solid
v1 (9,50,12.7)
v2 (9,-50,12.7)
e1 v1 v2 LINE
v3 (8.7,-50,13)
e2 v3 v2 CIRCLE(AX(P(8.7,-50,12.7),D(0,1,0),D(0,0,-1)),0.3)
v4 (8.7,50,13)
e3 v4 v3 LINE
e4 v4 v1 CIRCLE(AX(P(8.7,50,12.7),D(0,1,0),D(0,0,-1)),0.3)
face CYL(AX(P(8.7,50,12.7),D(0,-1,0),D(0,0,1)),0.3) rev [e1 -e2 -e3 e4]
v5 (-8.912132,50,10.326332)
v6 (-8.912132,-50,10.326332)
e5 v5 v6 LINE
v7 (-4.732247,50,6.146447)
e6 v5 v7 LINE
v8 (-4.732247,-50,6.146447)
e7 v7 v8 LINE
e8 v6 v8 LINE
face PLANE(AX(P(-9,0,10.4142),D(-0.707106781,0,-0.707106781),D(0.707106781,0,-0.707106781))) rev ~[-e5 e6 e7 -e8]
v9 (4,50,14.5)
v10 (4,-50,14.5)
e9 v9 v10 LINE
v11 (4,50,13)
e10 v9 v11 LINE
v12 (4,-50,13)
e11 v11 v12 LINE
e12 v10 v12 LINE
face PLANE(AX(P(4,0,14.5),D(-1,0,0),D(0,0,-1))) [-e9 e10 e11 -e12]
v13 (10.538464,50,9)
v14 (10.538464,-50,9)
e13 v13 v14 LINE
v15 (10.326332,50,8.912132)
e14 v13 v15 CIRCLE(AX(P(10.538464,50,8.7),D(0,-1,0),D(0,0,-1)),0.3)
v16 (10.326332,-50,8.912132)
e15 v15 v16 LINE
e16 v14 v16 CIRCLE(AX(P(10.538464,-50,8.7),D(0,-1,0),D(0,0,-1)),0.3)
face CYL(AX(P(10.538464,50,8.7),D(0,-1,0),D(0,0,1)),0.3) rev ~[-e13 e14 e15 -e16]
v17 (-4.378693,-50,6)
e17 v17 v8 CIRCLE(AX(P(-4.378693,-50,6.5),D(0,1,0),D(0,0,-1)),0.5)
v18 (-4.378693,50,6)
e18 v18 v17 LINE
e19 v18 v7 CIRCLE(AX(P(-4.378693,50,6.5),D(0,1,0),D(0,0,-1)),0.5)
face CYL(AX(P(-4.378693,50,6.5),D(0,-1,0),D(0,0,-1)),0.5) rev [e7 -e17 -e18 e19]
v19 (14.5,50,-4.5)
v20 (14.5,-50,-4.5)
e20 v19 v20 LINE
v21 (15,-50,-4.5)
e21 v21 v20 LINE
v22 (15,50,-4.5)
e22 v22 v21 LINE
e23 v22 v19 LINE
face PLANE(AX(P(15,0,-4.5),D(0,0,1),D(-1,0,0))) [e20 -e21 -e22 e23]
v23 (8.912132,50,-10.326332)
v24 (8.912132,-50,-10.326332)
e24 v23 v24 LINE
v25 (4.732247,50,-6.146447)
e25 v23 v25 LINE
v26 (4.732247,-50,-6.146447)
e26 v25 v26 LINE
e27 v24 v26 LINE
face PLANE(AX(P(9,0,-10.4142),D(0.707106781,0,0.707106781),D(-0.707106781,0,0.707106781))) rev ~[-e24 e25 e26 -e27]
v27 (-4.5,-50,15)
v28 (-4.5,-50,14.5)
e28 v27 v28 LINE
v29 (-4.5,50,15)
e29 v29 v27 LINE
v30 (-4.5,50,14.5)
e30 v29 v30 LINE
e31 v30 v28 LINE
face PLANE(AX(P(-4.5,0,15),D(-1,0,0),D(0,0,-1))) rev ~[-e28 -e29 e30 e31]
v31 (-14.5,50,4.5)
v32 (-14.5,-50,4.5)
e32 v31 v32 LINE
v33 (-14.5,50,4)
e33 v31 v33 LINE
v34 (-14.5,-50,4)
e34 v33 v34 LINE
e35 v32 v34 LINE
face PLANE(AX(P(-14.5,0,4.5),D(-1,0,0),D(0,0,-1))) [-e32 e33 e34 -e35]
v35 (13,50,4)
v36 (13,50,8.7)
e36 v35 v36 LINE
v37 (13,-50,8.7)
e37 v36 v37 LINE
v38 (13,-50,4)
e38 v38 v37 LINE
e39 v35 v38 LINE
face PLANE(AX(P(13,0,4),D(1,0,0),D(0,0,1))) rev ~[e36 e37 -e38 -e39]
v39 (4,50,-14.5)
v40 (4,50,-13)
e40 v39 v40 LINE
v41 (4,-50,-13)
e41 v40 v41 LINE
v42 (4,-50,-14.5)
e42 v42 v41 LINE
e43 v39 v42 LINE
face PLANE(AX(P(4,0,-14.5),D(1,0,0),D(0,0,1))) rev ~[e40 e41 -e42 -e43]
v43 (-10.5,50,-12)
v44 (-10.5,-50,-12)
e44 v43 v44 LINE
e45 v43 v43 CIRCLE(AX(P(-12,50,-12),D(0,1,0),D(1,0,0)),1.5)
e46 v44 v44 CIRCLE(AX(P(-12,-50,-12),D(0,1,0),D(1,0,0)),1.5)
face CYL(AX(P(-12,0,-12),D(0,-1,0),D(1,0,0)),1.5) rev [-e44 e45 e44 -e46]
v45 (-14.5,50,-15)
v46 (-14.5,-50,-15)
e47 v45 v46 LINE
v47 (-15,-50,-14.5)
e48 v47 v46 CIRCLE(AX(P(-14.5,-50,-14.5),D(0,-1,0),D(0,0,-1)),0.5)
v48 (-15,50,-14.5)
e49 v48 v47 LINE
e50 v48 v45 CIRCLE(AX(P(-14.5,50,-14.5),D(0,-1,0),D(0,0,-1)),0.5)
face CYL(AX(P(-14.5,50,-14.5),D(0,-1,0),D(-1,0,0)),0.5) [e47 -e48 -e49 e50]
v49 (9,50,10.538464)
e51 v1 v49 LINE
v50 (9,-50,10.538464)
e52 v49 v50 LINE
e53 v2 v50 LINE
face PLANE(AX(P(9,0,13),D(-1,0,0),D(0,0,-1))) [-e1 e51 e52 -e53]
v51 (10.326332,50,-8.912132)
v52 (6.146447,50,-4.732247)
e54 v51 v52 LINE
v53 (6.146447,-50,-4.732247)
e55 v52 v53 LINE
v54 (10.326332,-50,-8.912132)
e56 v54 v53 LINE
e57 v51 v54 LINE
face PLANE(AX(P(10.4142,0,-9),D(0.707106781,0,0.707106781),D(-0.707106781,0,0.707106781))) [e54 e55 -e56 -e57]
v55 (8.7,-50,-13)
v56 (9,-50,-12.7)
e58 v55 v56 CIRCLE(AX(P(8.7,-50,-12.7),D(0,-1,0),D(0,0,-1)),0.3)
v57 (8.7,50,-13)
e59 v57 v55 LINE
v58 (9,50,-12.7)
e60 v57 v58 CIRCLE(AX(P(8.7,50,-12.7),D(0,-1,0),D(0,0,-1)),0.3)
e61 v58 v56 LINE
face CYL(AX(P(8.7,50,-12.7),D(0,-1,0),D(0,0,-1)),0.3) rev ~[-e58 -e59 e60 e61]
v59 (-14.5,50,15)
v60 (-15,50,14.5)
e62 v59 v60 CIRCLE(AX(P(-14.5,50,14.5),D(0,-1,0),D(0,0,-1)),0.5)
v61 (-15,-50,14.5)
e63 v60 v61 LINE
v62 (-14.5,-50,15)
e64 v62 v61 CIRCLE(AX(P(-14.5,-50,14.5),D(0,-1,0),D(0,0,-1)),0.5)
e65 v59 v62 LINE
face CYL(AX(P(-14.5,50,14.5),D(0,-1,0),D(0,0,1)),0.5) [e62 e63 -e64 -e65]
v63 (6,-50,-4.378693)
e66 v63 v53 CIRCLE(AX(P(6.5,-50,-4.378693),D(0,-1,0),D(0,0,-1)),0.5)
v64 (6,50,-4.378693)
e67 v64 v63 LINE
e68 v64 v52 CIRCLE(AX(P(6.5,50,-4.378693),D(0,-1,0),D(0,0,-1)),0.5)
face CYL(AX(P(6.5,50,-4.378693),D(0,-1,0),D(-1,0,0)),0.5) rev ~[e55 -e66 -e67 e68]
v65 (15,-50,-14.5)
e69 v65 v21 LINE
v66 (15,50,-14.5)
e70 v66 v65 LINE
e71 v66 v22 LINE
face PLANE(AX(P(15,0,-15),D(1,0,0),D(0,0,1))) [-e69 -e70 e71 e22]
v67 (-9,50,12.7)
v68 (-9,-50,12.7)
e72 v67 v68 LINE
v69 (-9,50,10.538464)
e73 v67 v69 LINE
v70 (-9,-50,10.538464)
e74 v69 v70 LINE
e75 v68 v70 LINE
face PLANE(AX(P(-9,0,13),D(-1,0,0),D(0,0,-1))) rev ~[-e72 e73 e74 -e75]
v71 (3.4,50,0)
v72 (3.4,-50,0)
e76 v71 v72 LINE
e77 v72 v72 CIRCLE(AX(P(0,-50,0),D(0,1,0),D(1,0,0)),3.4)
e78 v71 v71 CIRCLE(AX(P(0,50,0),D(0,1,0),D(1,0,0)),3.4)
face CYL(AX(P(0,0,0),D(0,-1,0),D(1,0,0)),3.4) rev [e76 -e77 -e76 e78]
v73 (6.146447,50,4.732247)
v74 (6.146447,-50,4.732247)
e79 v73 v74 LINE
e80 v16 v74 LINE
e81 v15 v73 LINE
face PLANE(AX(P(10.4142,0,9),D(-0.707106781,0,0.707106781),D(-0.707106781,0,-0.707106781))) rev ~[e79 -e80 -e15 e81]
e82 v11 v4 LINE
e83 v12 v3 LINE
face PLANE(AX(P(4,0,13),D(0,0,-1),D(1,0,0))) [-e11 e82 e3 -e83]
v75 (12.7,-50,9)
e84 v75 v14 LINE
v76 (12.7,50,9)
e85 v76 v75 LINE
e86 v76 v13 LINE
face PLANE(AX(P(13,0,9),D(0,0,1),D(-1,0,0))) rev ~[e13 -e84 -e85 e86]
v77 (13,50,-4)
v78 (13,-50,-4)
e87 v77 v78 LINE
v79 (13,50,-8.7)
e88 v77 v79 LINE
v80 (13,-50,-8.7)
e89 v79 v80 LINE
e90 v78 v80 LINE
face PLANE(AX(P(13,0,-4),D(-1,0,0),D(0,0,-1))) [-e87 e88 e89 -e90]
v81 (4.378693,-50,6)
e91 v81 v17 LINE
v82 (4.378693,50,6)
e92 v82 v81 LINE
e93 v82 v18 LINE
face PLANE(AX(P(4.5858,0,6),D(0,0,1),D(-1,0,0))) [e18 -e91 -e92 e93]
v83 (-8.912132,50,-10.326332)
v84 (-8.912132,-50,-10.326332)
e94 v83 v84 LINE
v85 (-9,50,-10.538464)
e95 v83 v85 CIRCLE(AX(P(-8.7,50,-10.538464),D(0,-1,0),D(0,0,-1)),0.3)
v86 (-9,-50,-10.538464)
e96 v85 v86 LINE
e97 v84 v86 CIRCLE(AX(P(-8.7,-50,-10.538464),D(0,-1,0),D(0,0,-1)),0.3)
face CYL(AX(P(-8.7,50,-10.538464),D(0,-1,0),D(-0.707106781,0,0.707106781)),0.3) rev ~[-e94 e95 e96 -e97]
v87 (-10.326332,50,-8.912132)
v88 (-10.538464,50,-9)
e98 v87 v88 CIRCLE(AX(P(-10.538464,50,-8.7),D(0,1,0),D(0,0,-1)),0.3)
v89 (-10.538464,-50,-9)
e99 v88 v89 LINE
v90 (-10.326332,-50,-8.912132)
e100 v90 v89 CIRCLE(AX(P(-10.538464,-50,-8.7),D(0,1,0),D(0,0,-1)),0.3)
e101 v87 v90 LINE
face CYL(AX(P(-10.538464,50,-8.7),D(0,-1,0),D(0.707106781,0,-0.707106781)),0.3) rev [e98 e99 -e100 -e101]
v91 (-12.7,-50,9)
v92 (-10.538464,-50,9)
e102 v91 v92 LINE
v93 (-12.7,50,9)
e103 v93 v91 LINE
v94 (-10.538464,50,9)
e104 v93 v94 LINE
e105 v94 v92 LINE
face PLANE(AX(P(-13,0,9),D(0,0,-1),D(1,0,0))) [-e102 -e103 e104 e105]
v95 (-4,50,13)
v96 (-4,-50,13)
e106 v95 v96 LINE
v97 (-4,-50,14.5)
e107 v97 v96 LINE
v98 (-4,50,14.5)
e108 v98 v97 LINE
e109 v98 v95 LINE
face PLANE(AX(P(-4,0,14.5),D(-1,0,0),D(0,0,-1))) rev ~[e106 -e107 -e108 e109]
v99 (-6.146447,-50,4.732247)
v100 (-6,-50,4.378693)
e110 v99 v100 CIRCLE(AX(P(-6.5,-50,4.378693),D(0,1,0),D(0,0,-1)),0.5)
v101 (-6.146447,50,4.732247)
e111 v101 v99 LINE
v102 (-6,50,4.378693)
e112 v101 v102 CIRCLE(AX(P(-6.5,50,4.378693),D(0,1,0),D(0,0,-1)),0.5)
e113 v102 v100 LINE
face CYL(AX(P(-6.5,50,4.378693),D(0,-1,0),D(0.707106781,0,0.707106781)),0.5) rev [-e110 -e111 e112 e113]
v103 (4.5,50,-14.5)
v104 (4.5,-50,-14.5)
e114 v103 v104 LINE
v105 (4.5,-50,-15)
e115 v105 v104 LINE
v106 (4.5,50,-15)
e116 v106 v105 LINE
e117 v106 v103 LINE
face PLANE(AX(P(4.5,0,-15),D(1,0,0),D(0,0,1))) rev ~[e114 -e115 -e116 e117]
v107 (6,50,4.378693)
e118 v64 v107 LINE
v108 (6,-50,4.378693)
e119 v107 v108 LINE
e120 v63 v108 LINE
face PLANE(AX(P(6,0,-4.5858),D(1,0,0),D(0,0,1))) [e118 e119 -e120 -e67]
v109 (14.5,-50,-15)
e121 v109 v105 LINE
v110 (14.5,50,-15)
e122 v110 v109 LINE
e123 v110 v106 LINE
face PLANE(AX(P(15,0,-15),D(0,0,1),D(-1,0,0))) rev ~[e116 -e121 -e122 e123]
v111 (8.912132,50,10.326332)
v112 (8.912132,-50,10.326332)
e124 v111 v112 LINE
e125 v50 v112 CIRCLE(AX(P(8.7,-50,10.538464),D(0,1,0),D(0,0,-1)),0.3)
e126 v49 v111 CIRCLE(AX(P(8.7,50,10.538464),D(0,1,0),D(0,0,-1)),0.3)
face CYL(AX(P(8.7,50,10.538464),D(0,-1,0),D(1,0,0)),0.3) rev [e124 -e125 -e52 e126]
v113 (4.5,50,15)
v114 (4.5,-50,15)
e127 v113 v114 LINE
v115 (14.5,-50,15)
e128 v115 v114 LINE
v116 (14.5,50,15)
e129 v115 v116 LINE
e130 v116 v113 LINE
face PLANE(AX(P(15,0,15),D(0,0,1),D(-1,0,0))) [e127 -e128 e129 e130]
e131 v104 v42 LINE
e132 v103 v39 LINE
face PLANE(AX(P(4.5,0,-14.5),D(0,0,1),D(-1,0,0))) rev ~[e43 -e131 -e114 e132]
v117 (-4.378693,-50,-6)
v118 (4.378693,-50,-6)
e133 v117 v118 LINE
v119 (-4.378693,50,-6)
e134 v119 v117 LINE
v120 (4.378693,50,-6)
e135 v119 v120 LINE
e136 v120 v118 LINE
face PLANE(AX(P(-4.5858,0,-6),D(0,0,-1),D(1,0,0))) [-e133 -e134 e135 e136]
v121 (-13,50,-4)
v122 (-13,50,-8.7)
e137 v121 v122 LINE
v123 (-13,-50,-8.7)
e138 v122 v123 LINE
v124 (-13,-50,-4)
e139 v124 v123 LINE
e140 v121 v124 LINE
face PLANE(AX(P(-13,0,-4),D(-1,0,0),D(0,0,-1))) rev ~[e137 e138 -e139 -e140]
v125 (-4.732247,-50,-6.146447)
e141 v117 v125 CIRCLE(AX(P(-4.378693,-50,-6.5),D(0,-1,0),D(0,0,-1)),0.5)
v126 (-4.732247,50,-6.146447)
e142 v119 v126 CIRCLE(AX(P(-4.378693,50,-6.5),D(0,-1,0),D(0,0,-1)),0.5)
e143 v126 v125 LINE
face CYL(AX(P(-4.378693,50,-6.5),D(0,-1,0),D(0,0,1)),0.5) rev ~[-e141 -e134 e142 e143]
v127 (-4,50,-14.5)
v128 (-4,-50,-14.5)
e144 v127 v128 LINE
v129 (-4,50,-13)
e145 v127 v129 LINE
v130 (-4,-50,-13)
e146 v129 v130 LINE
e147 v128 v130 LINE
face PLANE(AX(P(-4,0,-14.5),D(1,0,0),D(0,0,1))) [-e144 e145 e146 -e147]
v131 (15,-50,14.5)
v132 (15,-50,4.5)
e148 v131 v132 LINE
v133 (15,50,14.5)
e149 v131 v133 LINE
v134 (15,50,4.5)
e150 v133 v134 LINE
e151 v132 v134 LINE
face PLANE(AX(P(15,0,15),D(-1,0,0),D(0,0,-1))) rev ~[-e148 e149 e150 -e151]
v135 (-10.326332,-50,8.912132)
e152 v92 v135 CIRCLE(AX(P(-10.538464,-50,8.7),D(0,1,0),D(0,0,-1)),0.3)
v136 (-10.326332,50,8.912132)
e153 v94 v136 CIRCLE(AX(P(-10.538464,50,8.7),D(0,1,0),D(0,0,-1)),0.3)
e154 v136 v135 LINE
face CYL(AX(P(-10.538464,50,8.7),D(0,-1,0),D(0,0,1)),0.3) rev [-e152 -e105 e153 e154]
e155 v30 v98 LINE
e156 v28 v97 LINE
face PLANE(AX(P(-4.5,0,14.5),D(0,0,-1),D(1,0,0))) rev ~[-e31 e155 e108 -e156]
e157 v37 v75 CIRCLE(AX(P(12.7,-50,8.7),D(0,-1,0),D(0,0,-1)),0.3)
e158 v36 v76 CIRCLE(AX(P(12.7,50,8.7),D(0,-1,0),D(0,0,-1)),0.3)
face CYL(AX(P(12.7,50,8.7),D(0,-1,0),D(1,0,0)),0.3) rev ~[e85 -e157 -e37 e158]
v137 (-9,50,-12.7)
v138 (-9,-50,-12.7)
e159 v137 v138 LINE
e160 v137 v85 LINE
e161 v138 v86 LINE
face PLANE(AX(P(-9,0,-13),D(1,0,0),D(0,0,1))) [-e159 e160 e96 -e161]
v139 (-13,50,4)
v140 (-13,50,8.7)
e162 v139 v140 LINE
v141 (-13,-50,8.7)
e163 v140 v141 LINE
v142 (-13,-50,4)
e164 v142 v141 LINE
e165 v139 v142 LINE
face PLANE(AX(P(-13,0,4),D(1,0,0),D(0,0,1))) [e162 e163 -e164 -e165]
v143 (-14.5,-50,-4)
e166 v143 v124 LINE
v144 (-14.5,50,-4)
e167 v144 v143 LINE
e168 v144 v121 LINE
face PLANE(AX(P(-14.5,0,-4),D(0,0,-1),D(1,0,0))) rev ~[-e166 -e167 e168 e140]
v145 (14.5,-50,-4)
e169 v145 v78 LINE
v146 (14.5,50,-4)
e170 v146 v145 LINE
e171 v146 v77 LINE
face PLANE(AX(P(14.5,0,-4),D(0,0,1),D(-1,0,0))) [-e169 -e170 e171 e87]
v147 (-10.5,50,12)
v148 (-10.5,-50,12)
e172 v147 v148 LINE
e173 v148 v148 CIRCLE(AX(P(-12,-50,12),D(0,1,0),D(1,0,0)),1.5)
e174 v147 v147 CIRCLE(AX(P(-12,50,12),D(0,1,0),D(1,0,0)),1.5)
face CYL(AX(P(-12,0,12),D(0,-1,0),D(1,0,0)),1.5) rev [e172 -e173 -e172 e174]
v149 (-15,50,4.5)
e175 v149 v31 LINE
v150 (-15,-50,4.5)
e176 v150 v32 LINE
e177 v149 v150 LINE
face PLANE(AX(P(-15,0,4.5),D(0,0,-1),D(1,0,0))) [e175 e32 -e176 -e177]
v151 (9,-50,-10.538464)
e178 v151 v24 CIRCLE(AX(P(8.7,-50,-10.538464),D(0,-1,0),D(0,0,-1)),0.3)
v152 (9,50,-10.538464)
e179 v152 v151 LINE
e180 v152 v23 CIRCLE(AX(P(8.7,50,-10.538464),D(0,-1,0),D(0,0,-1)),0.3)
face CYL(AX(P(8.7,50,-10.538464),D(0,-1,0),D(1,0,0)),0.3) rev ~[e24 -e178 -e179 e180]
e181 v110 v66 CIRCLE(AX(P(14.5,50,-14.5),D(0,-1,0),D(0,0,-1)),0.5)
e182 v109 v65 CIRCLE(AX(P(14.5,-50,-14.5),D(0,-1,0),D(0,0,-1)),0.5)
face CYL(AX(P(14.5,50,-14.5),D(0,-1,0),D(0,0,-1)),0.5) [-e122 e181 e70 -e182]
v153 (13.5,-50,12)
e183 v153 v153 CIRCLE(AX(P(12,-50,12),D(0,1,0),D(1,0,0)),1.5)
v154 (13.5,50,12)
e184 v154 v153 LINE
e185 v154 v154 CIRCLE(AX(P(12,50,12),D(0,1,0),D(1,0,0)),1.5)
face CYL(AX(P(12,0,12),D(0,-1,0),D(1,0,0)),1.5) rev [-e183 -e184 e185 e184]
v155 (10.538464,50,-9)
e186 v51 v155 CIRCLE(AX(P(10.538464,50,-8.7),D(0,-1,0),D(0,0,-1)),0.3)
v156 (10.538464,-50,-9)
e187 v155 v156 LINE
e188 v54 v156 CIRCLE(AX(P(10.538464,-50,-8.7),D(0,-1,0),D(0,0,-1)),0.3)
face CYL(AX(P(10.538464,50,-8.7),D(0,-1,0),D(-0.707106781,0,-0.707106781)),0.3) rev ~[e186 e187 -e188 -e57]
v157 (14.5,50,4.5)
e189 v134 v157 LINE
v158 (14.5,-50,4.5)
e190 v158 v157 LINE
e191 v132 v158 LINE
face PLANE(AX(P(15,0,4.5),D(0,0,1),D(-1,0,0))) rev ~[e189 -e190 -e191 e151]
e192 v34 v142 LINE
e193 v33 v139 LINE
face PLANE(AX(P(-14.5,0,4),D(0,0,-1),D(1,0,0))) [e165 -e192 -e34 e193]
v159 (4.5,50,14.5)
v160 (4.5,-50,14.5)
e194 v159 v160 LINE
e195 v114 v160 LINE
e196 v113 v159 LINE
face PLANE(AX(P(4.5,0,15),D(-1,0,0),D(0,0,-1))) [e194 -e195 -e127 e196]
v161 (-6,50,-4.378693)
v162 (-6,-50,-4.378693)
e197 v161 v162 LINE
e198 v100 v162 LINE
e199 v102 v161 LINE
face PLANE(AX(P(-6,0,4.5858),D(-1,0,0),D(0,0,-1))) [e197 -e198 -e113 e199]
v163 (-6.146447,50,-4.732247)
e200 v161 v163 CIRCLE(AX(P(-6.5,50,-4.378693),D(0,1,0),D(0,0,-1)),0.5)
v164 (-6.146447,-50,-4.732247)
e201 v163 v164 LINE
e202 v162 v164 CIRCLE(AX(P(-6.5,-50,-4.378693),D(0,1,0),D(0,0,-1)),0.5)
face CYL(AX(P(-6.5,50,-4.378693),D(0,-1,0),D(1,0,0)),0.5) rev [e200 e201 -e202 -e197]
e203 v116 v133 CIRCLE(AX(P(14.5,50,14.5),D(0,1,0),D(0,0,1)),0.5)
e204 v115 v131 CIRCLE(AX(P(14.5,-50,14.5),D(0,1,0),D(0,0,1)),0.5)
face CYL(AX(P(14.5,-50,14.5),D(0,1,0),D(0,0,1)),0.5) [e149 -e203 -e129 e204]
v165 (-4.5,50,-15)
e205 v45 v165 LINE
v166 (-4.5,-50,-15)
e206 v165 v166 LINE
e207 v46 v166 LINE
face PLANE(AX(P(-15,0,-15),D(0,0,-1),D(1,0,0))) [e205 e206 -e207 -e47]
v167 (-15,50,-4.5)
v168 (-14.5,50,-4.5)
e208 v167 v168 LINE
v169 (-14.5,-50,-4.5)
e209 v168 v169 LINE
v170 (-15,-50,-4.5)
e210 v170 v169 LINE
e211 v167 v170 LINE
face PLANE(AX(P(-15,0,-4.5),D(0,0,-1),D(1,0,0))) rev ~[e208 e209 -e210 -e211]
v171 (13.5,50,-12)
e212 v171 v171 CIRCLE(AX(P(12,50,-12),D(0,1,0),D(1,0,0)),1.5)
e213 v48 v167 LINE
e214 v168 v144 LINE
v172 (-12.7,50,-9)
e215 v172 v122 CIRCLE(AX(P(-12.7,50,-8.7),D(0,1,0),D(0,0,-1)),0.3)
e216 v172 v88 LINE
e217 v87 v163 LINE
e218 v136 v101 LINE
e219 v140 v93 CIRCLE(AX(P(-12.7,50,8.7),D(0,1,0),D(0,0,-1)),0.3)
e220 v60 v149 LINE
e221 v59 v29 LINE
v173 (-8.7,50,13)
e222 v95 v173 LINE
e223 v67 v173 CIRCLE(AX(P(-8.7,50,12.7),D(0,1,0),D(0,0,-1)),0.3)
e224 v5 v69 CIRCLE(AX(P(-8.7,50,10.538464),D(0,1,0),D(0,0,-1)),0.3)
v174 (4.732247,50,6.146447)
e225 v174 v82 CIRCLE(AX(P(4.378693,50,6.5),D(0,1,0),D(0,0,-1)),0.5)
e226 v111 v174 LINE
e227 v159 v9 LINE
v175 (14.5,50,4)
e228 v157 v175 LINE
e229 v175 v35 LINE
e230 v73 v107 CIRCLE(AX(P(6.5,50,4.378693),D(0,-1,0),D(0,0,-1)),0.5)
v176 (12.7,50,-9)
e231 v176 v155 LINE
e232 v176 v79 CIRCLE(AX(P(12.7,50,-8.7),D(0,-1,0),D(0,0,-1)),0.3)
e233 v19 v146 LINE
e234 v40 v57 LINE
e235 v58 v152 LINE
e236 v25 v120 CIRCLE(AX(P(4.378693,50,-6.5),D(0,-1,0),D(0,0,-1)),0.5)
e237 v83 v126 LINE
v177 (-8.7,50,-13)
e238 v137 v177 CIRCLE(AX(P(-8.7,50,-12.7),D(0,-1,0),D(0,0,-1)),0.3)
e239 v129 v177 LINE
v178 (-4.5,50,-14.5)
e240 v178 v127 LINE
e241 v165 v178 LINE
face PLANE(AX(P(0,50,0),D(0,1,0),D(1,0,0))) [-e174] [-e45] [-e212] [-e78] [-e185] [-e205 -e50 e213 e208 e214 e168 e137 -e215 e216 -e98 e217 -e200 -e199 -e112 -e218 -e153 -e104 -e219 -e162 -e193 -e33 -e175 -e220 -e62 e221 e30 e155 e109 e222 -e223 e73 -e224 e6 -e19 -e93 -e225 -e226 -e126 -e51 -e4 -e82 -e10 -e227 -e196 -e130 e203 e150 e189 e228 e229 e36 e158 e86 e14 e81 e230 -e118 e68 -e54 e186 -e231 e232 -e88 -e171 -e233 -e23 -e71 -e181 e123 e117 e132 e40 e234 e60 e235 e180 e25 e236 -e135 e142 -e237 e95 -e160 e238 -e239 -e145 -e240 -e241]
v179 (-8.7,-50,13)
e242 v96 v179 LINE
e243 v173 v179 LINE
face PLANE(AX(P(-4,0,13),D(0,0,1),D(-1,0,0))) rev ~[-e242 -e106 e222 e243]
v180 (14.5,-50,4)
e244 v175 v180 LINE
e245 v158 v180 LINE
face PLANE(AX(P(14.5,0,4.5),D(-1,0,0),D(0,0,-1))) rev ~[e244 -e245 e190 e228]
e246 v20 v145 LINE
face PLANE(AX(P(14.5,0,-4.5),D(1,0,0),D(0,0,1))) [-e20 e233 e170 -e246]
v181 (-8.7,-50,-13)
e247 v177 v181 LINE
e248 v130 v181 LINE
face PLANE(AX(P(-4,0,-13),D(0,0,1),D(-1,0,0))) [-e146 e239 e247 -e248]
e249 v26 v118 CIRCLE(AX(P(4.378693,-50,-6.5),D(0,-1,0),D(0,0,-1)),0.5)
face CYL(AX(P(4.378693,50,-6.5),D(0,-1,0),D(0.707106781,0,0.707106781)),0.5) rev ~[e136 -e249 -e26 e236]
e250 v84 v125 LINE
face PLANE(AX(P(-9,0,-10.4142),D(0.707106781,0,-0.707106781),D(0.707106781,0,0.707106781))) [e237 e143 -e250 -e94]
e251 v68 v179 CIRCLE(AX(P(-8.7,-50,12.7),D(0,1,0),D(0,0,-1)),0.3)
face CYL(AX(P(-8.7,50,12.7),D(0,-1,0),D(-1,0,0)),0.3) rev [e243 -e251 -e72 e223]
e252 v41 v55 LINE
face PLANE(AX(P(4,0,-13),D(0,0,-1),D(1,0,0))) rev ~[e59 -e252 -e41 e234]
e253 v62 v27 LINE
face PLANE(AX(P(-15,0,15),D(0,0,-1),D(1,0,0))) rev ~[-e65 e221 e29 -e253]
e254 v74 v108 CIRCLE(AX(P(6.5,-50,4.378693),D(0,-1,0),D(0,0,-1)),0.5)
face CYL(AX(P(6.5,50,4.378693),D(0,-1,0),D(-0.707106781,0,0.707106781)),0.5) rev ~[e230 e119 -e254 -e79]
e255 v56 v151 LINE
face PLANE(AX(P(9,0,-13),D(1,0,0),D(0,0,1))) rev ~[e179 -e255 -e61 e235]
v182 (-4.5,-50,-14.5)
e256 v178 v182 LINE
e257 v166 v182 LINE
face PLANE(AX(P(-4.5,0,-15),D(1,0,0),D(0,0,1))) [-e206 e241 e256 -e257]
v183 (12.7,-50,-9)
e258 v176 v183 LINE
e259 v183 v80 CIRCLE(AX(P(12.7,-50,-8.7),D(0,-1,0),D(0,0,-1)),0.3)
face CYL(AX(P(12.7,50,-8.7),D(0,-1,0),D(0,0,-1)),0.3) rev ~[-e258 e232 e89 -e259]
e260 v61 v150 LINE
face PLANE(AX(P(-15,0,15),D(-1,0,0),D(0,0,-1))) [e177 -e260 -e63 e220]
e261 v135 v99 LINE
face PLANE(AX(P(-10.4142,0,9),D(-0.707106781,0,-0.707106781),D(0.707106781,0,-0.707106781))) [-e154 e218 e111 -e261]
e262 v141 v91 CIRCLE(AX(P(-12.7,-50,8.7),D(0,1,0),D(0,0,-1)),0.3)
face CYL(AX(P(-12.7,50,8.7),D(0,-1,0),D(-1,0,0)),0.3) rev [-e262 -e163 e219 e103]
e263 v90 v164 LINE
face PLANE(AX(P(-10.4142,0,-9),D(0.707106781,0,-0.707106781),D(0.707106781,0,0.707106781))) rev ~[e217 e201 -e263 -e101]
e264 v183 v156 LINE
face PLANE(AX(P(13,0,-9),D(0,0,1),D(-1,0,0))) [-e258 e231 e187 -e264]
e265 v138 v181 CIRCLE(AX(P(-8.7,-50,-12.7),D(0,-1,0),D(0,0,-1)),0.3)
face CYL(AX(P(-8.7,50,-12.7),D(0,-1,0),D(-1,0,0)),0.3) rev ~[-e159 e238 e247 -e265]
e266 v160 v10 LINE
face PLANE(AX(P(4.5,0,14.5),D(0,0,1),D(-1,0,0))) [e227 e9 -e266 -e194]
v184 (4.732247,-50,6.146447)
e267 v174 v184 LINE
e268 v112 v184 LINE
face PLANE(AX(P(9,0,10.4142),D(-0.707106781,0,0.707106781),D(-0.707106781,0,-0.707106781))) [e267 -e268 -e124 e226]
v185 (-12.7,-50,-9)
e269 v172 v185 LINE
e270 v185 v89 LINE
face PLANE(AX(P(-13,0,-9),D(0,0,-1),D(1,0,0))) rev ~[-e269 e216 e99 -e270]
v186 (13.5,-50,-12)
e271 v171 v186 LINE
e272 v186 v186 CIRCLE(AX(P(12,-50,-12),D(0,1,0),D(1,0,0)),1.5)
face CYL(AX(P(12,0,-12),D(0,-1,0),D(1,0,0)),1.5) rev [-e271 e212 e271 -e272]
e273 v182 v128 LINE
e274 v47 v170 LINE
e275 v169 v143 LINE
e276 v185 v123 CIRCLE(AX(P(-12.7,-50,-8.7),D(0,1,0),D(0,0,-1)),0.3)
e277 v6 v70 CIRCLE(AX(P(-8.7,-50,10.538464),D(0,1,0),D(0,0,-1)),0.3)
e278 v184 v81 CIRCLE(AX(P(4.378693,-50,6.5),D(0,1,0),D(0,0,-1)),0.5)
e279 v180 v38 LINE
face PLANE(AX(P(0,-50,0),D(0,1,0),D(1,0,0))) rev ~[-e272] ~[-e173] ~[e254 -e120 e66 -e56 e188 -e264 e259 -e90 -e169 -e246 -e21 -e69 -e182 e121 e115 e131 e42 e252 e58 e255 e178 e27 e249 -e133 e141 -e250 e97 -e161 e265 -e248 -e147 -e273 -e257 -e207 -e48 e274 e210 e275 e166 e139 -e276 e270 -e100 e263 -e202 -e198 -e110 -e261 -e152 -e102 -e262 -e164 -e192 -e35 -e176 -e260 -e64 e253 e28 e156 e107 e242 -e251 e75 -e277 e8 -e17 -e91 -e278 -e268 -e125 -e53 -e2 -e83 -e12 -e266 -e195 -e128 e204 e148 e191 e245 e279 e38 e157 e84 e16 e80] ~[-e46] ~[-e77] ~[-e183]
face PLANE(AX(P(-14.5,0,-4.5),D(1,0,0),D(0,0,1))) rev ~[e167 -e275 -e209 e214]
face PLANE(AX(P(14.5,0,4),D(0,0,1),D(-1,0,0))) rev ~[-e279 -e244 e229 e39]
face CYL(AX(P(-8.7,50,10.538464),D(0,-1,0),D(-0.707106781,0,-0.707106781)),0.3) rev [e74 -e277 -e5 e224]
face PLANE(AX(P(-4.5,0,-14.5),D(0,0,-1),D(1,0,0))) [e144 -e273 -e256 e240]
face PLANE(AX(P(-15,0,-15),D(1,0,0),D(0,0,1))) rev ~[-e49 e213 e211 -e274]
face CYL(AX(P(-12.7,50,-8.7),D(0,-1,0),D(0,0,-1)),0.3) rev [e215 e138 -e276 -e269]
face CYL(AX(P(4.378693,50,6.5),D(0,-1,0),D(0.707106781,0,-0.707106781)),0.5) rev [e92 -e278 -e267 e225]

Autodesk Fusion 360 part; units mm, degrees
sketch "Sketch1" plane through (0, 0, 0) normal (0, 1, 0) x (1, 0, 0)
  circle A0 centre (0, 0) radius 3.4
  line L0 (15, -15) -> (4.5, -15)
  line L1 (4.5, -15) -> (4.5, -14.5)
  line L2 (4.5, -14.5) -> (4, -14.5)
  line L3 (4, -14.5) -> (4, -13)
  line L4 (4, -13) -> (9, -13)
  line L5 (15, -15) -> (15, -4.5)
  line L6 (15, -4.5) -> (14.5, -4.5)
  line L7 (14.5, -4.5) -> (14.5, -4)
  line L8 (14.5, -4) -> (13, -4)
  line L9 (13, -4) -> (13, -9)
  line L10 (13, -9) -> (10.4142, -9)
  line L11 (9, -13) -> (9, -10.4142)
  line L12 (9, -10.4142) -> (4.5858, -6)
  line L13 (10.4142, -9) -> (6, -4.5858)
  line L14 (13, 4) -> (13, 9)
  line L15 (14.5, 4) -> (13, 4)
  line L16 (9, 10.4142) -> (4.5858, 6)
  line L17 (15, 4.5) -> (14.5, 4.5)
  line L18 (4.5, 15) -> (4.5, 14.5)
  line L19 (4, 14.5) -> (4, 13)
  line L20 (10.4142, 9) -> (6, 4.5858)
  line L21 (13, 9) -> (10.4142, 9)
  line L22 (15, 15) -> (4.5, 15)
  line L23 (4, 13) -> (9, 13)
  line L24 (4.5, 14.5) -> (4, 14.5)
  line L25 (15, 15) -> (15, 4.5)
  line L26 (14.5, 4.5) -> (14.5, 4)
  line L27 (9, 13) -> (9, 10.4142)
  line L28 (-4, 13) -> (-9, 13)
  line L29 (-4, 14.5) -> (-4, 13)
  line L30 (-10.4142, 9) -> (-6, 4.5858)
  line L31 (-4.5, 15) -> (-4.5, 14.5)
  line L32 (-15, 4.5) -> (-14.5, 4.5)
  line L33 (-14.5, 4) -> (-13, 4)
  line L34 (-9, 10.4142) -> (-4.5858, 6)
  line L35 (-9, 13) -> (-9, 10.4142)
  line L36 (-15, 15) -> (-15, 4.5)
  line L37 (-13, 4) -> (-13, 9)
  line L38 (-14.5, 4.5) -> (-14.5, 4)
  line L39 (-15, 15) -> (-4.5, 15)
  line L40 (-4.5, 14.5) -> (-4, 14.5)
  line L41 (-13, 9) -> (-10.4142, 9)
  line L42 (-13, -4) -> (-13, -9)
  line L43 (-14.5, -4) -> (-13, -4)
  line L44 (-9, -10.4142) -> (-4.5858, -6)
  line L45 (-15, -4.5) -> (-14.5, -4.5)
  line L46 (-4.5, -15) -> (-4.5, -14.5)
  line L47 (-4, -14.5) -> (-4, -13)
  line L48 (-10.4142, -9) -> (-6, -4.5858)
  line L49 (-13, -9) -> (-10.4142, -9)
  line L50 (-15, -15) -> (-4.5, -15)
  line L51 (-4, -13) -> (-9, -13)
  line L52 (-4.5, -14.5) -> (-4, -14.5)
  line L53 (-15, -15) -> (-15, -4.5)
  line L54 (-14.5, -4.5) -> (-14.5, -4)
  line L55 (-9, -13) -> (-9, -10.4142)
  line L56 (4.5858, -6) -> (-4.5858, -6)
  line L57 (-6, -4.5858) -> (-6, 4.5858)
  line L58 (-4.5858, 6) -> (4.5858, 6)
  line L59 (6, 4.5858) -> (6, -4.5858)
  circle A1 centre (12, -12) radius 1.5
  circle A2 centre (12, 12) radius 1.5
  circle A3 centre (-12, 12) radius 1.5
  circle A4 centre (-12, -12) radius 1.5
  dimension "d1" = 6.8
  dimension "d7" = 360
  dimension "d8" = 3
  dimension "d9" = 8
  dimension "d10" = 30
  dimension "d11" = 12
  dimension "d22" = 18
  dimension "d23" = 2
  dimension "d24" = 7
extrude "Extrude1" add sketch "Sketch1" along normal mid plane 100
fillet "Fillet1" radius 0.5 4 edges at (-15, 0, 15) (15, 0, 15) (-15, 0, -15) (15, 0, -15)
fillet "Fillet2" radius 0.3 8 edges at (-13, 0, -9) (-9, 0, -13) (9, 0, -13) (13, 0, -9) (13, 0, 9) (9, 0, 13) (-9, 0, 13) (-13, 0, 9)
fillet "Fillet3" radius 0.3 8 edges at (-10.4142, 0, -9) (-9, 0, -10.4142) (9, 0, -10.4142) (10.4142, 0, -9) (-9, 0, 10.4142) (-10.4142, 0, 9) (9, 0, 10.4142) (10.4142, 0, 9)
fillet "Fillet4" radius 0.5 8 edges at (-4.5858, 0, 6) (6, 0, 4.5858) (6, 0, -4.5858) (4.5858, 0, 6) (-6, 0, 4.5858) (-6, 0, -4.5858) (4.5858, 0, -6) (-4.5858, 0, -6)
